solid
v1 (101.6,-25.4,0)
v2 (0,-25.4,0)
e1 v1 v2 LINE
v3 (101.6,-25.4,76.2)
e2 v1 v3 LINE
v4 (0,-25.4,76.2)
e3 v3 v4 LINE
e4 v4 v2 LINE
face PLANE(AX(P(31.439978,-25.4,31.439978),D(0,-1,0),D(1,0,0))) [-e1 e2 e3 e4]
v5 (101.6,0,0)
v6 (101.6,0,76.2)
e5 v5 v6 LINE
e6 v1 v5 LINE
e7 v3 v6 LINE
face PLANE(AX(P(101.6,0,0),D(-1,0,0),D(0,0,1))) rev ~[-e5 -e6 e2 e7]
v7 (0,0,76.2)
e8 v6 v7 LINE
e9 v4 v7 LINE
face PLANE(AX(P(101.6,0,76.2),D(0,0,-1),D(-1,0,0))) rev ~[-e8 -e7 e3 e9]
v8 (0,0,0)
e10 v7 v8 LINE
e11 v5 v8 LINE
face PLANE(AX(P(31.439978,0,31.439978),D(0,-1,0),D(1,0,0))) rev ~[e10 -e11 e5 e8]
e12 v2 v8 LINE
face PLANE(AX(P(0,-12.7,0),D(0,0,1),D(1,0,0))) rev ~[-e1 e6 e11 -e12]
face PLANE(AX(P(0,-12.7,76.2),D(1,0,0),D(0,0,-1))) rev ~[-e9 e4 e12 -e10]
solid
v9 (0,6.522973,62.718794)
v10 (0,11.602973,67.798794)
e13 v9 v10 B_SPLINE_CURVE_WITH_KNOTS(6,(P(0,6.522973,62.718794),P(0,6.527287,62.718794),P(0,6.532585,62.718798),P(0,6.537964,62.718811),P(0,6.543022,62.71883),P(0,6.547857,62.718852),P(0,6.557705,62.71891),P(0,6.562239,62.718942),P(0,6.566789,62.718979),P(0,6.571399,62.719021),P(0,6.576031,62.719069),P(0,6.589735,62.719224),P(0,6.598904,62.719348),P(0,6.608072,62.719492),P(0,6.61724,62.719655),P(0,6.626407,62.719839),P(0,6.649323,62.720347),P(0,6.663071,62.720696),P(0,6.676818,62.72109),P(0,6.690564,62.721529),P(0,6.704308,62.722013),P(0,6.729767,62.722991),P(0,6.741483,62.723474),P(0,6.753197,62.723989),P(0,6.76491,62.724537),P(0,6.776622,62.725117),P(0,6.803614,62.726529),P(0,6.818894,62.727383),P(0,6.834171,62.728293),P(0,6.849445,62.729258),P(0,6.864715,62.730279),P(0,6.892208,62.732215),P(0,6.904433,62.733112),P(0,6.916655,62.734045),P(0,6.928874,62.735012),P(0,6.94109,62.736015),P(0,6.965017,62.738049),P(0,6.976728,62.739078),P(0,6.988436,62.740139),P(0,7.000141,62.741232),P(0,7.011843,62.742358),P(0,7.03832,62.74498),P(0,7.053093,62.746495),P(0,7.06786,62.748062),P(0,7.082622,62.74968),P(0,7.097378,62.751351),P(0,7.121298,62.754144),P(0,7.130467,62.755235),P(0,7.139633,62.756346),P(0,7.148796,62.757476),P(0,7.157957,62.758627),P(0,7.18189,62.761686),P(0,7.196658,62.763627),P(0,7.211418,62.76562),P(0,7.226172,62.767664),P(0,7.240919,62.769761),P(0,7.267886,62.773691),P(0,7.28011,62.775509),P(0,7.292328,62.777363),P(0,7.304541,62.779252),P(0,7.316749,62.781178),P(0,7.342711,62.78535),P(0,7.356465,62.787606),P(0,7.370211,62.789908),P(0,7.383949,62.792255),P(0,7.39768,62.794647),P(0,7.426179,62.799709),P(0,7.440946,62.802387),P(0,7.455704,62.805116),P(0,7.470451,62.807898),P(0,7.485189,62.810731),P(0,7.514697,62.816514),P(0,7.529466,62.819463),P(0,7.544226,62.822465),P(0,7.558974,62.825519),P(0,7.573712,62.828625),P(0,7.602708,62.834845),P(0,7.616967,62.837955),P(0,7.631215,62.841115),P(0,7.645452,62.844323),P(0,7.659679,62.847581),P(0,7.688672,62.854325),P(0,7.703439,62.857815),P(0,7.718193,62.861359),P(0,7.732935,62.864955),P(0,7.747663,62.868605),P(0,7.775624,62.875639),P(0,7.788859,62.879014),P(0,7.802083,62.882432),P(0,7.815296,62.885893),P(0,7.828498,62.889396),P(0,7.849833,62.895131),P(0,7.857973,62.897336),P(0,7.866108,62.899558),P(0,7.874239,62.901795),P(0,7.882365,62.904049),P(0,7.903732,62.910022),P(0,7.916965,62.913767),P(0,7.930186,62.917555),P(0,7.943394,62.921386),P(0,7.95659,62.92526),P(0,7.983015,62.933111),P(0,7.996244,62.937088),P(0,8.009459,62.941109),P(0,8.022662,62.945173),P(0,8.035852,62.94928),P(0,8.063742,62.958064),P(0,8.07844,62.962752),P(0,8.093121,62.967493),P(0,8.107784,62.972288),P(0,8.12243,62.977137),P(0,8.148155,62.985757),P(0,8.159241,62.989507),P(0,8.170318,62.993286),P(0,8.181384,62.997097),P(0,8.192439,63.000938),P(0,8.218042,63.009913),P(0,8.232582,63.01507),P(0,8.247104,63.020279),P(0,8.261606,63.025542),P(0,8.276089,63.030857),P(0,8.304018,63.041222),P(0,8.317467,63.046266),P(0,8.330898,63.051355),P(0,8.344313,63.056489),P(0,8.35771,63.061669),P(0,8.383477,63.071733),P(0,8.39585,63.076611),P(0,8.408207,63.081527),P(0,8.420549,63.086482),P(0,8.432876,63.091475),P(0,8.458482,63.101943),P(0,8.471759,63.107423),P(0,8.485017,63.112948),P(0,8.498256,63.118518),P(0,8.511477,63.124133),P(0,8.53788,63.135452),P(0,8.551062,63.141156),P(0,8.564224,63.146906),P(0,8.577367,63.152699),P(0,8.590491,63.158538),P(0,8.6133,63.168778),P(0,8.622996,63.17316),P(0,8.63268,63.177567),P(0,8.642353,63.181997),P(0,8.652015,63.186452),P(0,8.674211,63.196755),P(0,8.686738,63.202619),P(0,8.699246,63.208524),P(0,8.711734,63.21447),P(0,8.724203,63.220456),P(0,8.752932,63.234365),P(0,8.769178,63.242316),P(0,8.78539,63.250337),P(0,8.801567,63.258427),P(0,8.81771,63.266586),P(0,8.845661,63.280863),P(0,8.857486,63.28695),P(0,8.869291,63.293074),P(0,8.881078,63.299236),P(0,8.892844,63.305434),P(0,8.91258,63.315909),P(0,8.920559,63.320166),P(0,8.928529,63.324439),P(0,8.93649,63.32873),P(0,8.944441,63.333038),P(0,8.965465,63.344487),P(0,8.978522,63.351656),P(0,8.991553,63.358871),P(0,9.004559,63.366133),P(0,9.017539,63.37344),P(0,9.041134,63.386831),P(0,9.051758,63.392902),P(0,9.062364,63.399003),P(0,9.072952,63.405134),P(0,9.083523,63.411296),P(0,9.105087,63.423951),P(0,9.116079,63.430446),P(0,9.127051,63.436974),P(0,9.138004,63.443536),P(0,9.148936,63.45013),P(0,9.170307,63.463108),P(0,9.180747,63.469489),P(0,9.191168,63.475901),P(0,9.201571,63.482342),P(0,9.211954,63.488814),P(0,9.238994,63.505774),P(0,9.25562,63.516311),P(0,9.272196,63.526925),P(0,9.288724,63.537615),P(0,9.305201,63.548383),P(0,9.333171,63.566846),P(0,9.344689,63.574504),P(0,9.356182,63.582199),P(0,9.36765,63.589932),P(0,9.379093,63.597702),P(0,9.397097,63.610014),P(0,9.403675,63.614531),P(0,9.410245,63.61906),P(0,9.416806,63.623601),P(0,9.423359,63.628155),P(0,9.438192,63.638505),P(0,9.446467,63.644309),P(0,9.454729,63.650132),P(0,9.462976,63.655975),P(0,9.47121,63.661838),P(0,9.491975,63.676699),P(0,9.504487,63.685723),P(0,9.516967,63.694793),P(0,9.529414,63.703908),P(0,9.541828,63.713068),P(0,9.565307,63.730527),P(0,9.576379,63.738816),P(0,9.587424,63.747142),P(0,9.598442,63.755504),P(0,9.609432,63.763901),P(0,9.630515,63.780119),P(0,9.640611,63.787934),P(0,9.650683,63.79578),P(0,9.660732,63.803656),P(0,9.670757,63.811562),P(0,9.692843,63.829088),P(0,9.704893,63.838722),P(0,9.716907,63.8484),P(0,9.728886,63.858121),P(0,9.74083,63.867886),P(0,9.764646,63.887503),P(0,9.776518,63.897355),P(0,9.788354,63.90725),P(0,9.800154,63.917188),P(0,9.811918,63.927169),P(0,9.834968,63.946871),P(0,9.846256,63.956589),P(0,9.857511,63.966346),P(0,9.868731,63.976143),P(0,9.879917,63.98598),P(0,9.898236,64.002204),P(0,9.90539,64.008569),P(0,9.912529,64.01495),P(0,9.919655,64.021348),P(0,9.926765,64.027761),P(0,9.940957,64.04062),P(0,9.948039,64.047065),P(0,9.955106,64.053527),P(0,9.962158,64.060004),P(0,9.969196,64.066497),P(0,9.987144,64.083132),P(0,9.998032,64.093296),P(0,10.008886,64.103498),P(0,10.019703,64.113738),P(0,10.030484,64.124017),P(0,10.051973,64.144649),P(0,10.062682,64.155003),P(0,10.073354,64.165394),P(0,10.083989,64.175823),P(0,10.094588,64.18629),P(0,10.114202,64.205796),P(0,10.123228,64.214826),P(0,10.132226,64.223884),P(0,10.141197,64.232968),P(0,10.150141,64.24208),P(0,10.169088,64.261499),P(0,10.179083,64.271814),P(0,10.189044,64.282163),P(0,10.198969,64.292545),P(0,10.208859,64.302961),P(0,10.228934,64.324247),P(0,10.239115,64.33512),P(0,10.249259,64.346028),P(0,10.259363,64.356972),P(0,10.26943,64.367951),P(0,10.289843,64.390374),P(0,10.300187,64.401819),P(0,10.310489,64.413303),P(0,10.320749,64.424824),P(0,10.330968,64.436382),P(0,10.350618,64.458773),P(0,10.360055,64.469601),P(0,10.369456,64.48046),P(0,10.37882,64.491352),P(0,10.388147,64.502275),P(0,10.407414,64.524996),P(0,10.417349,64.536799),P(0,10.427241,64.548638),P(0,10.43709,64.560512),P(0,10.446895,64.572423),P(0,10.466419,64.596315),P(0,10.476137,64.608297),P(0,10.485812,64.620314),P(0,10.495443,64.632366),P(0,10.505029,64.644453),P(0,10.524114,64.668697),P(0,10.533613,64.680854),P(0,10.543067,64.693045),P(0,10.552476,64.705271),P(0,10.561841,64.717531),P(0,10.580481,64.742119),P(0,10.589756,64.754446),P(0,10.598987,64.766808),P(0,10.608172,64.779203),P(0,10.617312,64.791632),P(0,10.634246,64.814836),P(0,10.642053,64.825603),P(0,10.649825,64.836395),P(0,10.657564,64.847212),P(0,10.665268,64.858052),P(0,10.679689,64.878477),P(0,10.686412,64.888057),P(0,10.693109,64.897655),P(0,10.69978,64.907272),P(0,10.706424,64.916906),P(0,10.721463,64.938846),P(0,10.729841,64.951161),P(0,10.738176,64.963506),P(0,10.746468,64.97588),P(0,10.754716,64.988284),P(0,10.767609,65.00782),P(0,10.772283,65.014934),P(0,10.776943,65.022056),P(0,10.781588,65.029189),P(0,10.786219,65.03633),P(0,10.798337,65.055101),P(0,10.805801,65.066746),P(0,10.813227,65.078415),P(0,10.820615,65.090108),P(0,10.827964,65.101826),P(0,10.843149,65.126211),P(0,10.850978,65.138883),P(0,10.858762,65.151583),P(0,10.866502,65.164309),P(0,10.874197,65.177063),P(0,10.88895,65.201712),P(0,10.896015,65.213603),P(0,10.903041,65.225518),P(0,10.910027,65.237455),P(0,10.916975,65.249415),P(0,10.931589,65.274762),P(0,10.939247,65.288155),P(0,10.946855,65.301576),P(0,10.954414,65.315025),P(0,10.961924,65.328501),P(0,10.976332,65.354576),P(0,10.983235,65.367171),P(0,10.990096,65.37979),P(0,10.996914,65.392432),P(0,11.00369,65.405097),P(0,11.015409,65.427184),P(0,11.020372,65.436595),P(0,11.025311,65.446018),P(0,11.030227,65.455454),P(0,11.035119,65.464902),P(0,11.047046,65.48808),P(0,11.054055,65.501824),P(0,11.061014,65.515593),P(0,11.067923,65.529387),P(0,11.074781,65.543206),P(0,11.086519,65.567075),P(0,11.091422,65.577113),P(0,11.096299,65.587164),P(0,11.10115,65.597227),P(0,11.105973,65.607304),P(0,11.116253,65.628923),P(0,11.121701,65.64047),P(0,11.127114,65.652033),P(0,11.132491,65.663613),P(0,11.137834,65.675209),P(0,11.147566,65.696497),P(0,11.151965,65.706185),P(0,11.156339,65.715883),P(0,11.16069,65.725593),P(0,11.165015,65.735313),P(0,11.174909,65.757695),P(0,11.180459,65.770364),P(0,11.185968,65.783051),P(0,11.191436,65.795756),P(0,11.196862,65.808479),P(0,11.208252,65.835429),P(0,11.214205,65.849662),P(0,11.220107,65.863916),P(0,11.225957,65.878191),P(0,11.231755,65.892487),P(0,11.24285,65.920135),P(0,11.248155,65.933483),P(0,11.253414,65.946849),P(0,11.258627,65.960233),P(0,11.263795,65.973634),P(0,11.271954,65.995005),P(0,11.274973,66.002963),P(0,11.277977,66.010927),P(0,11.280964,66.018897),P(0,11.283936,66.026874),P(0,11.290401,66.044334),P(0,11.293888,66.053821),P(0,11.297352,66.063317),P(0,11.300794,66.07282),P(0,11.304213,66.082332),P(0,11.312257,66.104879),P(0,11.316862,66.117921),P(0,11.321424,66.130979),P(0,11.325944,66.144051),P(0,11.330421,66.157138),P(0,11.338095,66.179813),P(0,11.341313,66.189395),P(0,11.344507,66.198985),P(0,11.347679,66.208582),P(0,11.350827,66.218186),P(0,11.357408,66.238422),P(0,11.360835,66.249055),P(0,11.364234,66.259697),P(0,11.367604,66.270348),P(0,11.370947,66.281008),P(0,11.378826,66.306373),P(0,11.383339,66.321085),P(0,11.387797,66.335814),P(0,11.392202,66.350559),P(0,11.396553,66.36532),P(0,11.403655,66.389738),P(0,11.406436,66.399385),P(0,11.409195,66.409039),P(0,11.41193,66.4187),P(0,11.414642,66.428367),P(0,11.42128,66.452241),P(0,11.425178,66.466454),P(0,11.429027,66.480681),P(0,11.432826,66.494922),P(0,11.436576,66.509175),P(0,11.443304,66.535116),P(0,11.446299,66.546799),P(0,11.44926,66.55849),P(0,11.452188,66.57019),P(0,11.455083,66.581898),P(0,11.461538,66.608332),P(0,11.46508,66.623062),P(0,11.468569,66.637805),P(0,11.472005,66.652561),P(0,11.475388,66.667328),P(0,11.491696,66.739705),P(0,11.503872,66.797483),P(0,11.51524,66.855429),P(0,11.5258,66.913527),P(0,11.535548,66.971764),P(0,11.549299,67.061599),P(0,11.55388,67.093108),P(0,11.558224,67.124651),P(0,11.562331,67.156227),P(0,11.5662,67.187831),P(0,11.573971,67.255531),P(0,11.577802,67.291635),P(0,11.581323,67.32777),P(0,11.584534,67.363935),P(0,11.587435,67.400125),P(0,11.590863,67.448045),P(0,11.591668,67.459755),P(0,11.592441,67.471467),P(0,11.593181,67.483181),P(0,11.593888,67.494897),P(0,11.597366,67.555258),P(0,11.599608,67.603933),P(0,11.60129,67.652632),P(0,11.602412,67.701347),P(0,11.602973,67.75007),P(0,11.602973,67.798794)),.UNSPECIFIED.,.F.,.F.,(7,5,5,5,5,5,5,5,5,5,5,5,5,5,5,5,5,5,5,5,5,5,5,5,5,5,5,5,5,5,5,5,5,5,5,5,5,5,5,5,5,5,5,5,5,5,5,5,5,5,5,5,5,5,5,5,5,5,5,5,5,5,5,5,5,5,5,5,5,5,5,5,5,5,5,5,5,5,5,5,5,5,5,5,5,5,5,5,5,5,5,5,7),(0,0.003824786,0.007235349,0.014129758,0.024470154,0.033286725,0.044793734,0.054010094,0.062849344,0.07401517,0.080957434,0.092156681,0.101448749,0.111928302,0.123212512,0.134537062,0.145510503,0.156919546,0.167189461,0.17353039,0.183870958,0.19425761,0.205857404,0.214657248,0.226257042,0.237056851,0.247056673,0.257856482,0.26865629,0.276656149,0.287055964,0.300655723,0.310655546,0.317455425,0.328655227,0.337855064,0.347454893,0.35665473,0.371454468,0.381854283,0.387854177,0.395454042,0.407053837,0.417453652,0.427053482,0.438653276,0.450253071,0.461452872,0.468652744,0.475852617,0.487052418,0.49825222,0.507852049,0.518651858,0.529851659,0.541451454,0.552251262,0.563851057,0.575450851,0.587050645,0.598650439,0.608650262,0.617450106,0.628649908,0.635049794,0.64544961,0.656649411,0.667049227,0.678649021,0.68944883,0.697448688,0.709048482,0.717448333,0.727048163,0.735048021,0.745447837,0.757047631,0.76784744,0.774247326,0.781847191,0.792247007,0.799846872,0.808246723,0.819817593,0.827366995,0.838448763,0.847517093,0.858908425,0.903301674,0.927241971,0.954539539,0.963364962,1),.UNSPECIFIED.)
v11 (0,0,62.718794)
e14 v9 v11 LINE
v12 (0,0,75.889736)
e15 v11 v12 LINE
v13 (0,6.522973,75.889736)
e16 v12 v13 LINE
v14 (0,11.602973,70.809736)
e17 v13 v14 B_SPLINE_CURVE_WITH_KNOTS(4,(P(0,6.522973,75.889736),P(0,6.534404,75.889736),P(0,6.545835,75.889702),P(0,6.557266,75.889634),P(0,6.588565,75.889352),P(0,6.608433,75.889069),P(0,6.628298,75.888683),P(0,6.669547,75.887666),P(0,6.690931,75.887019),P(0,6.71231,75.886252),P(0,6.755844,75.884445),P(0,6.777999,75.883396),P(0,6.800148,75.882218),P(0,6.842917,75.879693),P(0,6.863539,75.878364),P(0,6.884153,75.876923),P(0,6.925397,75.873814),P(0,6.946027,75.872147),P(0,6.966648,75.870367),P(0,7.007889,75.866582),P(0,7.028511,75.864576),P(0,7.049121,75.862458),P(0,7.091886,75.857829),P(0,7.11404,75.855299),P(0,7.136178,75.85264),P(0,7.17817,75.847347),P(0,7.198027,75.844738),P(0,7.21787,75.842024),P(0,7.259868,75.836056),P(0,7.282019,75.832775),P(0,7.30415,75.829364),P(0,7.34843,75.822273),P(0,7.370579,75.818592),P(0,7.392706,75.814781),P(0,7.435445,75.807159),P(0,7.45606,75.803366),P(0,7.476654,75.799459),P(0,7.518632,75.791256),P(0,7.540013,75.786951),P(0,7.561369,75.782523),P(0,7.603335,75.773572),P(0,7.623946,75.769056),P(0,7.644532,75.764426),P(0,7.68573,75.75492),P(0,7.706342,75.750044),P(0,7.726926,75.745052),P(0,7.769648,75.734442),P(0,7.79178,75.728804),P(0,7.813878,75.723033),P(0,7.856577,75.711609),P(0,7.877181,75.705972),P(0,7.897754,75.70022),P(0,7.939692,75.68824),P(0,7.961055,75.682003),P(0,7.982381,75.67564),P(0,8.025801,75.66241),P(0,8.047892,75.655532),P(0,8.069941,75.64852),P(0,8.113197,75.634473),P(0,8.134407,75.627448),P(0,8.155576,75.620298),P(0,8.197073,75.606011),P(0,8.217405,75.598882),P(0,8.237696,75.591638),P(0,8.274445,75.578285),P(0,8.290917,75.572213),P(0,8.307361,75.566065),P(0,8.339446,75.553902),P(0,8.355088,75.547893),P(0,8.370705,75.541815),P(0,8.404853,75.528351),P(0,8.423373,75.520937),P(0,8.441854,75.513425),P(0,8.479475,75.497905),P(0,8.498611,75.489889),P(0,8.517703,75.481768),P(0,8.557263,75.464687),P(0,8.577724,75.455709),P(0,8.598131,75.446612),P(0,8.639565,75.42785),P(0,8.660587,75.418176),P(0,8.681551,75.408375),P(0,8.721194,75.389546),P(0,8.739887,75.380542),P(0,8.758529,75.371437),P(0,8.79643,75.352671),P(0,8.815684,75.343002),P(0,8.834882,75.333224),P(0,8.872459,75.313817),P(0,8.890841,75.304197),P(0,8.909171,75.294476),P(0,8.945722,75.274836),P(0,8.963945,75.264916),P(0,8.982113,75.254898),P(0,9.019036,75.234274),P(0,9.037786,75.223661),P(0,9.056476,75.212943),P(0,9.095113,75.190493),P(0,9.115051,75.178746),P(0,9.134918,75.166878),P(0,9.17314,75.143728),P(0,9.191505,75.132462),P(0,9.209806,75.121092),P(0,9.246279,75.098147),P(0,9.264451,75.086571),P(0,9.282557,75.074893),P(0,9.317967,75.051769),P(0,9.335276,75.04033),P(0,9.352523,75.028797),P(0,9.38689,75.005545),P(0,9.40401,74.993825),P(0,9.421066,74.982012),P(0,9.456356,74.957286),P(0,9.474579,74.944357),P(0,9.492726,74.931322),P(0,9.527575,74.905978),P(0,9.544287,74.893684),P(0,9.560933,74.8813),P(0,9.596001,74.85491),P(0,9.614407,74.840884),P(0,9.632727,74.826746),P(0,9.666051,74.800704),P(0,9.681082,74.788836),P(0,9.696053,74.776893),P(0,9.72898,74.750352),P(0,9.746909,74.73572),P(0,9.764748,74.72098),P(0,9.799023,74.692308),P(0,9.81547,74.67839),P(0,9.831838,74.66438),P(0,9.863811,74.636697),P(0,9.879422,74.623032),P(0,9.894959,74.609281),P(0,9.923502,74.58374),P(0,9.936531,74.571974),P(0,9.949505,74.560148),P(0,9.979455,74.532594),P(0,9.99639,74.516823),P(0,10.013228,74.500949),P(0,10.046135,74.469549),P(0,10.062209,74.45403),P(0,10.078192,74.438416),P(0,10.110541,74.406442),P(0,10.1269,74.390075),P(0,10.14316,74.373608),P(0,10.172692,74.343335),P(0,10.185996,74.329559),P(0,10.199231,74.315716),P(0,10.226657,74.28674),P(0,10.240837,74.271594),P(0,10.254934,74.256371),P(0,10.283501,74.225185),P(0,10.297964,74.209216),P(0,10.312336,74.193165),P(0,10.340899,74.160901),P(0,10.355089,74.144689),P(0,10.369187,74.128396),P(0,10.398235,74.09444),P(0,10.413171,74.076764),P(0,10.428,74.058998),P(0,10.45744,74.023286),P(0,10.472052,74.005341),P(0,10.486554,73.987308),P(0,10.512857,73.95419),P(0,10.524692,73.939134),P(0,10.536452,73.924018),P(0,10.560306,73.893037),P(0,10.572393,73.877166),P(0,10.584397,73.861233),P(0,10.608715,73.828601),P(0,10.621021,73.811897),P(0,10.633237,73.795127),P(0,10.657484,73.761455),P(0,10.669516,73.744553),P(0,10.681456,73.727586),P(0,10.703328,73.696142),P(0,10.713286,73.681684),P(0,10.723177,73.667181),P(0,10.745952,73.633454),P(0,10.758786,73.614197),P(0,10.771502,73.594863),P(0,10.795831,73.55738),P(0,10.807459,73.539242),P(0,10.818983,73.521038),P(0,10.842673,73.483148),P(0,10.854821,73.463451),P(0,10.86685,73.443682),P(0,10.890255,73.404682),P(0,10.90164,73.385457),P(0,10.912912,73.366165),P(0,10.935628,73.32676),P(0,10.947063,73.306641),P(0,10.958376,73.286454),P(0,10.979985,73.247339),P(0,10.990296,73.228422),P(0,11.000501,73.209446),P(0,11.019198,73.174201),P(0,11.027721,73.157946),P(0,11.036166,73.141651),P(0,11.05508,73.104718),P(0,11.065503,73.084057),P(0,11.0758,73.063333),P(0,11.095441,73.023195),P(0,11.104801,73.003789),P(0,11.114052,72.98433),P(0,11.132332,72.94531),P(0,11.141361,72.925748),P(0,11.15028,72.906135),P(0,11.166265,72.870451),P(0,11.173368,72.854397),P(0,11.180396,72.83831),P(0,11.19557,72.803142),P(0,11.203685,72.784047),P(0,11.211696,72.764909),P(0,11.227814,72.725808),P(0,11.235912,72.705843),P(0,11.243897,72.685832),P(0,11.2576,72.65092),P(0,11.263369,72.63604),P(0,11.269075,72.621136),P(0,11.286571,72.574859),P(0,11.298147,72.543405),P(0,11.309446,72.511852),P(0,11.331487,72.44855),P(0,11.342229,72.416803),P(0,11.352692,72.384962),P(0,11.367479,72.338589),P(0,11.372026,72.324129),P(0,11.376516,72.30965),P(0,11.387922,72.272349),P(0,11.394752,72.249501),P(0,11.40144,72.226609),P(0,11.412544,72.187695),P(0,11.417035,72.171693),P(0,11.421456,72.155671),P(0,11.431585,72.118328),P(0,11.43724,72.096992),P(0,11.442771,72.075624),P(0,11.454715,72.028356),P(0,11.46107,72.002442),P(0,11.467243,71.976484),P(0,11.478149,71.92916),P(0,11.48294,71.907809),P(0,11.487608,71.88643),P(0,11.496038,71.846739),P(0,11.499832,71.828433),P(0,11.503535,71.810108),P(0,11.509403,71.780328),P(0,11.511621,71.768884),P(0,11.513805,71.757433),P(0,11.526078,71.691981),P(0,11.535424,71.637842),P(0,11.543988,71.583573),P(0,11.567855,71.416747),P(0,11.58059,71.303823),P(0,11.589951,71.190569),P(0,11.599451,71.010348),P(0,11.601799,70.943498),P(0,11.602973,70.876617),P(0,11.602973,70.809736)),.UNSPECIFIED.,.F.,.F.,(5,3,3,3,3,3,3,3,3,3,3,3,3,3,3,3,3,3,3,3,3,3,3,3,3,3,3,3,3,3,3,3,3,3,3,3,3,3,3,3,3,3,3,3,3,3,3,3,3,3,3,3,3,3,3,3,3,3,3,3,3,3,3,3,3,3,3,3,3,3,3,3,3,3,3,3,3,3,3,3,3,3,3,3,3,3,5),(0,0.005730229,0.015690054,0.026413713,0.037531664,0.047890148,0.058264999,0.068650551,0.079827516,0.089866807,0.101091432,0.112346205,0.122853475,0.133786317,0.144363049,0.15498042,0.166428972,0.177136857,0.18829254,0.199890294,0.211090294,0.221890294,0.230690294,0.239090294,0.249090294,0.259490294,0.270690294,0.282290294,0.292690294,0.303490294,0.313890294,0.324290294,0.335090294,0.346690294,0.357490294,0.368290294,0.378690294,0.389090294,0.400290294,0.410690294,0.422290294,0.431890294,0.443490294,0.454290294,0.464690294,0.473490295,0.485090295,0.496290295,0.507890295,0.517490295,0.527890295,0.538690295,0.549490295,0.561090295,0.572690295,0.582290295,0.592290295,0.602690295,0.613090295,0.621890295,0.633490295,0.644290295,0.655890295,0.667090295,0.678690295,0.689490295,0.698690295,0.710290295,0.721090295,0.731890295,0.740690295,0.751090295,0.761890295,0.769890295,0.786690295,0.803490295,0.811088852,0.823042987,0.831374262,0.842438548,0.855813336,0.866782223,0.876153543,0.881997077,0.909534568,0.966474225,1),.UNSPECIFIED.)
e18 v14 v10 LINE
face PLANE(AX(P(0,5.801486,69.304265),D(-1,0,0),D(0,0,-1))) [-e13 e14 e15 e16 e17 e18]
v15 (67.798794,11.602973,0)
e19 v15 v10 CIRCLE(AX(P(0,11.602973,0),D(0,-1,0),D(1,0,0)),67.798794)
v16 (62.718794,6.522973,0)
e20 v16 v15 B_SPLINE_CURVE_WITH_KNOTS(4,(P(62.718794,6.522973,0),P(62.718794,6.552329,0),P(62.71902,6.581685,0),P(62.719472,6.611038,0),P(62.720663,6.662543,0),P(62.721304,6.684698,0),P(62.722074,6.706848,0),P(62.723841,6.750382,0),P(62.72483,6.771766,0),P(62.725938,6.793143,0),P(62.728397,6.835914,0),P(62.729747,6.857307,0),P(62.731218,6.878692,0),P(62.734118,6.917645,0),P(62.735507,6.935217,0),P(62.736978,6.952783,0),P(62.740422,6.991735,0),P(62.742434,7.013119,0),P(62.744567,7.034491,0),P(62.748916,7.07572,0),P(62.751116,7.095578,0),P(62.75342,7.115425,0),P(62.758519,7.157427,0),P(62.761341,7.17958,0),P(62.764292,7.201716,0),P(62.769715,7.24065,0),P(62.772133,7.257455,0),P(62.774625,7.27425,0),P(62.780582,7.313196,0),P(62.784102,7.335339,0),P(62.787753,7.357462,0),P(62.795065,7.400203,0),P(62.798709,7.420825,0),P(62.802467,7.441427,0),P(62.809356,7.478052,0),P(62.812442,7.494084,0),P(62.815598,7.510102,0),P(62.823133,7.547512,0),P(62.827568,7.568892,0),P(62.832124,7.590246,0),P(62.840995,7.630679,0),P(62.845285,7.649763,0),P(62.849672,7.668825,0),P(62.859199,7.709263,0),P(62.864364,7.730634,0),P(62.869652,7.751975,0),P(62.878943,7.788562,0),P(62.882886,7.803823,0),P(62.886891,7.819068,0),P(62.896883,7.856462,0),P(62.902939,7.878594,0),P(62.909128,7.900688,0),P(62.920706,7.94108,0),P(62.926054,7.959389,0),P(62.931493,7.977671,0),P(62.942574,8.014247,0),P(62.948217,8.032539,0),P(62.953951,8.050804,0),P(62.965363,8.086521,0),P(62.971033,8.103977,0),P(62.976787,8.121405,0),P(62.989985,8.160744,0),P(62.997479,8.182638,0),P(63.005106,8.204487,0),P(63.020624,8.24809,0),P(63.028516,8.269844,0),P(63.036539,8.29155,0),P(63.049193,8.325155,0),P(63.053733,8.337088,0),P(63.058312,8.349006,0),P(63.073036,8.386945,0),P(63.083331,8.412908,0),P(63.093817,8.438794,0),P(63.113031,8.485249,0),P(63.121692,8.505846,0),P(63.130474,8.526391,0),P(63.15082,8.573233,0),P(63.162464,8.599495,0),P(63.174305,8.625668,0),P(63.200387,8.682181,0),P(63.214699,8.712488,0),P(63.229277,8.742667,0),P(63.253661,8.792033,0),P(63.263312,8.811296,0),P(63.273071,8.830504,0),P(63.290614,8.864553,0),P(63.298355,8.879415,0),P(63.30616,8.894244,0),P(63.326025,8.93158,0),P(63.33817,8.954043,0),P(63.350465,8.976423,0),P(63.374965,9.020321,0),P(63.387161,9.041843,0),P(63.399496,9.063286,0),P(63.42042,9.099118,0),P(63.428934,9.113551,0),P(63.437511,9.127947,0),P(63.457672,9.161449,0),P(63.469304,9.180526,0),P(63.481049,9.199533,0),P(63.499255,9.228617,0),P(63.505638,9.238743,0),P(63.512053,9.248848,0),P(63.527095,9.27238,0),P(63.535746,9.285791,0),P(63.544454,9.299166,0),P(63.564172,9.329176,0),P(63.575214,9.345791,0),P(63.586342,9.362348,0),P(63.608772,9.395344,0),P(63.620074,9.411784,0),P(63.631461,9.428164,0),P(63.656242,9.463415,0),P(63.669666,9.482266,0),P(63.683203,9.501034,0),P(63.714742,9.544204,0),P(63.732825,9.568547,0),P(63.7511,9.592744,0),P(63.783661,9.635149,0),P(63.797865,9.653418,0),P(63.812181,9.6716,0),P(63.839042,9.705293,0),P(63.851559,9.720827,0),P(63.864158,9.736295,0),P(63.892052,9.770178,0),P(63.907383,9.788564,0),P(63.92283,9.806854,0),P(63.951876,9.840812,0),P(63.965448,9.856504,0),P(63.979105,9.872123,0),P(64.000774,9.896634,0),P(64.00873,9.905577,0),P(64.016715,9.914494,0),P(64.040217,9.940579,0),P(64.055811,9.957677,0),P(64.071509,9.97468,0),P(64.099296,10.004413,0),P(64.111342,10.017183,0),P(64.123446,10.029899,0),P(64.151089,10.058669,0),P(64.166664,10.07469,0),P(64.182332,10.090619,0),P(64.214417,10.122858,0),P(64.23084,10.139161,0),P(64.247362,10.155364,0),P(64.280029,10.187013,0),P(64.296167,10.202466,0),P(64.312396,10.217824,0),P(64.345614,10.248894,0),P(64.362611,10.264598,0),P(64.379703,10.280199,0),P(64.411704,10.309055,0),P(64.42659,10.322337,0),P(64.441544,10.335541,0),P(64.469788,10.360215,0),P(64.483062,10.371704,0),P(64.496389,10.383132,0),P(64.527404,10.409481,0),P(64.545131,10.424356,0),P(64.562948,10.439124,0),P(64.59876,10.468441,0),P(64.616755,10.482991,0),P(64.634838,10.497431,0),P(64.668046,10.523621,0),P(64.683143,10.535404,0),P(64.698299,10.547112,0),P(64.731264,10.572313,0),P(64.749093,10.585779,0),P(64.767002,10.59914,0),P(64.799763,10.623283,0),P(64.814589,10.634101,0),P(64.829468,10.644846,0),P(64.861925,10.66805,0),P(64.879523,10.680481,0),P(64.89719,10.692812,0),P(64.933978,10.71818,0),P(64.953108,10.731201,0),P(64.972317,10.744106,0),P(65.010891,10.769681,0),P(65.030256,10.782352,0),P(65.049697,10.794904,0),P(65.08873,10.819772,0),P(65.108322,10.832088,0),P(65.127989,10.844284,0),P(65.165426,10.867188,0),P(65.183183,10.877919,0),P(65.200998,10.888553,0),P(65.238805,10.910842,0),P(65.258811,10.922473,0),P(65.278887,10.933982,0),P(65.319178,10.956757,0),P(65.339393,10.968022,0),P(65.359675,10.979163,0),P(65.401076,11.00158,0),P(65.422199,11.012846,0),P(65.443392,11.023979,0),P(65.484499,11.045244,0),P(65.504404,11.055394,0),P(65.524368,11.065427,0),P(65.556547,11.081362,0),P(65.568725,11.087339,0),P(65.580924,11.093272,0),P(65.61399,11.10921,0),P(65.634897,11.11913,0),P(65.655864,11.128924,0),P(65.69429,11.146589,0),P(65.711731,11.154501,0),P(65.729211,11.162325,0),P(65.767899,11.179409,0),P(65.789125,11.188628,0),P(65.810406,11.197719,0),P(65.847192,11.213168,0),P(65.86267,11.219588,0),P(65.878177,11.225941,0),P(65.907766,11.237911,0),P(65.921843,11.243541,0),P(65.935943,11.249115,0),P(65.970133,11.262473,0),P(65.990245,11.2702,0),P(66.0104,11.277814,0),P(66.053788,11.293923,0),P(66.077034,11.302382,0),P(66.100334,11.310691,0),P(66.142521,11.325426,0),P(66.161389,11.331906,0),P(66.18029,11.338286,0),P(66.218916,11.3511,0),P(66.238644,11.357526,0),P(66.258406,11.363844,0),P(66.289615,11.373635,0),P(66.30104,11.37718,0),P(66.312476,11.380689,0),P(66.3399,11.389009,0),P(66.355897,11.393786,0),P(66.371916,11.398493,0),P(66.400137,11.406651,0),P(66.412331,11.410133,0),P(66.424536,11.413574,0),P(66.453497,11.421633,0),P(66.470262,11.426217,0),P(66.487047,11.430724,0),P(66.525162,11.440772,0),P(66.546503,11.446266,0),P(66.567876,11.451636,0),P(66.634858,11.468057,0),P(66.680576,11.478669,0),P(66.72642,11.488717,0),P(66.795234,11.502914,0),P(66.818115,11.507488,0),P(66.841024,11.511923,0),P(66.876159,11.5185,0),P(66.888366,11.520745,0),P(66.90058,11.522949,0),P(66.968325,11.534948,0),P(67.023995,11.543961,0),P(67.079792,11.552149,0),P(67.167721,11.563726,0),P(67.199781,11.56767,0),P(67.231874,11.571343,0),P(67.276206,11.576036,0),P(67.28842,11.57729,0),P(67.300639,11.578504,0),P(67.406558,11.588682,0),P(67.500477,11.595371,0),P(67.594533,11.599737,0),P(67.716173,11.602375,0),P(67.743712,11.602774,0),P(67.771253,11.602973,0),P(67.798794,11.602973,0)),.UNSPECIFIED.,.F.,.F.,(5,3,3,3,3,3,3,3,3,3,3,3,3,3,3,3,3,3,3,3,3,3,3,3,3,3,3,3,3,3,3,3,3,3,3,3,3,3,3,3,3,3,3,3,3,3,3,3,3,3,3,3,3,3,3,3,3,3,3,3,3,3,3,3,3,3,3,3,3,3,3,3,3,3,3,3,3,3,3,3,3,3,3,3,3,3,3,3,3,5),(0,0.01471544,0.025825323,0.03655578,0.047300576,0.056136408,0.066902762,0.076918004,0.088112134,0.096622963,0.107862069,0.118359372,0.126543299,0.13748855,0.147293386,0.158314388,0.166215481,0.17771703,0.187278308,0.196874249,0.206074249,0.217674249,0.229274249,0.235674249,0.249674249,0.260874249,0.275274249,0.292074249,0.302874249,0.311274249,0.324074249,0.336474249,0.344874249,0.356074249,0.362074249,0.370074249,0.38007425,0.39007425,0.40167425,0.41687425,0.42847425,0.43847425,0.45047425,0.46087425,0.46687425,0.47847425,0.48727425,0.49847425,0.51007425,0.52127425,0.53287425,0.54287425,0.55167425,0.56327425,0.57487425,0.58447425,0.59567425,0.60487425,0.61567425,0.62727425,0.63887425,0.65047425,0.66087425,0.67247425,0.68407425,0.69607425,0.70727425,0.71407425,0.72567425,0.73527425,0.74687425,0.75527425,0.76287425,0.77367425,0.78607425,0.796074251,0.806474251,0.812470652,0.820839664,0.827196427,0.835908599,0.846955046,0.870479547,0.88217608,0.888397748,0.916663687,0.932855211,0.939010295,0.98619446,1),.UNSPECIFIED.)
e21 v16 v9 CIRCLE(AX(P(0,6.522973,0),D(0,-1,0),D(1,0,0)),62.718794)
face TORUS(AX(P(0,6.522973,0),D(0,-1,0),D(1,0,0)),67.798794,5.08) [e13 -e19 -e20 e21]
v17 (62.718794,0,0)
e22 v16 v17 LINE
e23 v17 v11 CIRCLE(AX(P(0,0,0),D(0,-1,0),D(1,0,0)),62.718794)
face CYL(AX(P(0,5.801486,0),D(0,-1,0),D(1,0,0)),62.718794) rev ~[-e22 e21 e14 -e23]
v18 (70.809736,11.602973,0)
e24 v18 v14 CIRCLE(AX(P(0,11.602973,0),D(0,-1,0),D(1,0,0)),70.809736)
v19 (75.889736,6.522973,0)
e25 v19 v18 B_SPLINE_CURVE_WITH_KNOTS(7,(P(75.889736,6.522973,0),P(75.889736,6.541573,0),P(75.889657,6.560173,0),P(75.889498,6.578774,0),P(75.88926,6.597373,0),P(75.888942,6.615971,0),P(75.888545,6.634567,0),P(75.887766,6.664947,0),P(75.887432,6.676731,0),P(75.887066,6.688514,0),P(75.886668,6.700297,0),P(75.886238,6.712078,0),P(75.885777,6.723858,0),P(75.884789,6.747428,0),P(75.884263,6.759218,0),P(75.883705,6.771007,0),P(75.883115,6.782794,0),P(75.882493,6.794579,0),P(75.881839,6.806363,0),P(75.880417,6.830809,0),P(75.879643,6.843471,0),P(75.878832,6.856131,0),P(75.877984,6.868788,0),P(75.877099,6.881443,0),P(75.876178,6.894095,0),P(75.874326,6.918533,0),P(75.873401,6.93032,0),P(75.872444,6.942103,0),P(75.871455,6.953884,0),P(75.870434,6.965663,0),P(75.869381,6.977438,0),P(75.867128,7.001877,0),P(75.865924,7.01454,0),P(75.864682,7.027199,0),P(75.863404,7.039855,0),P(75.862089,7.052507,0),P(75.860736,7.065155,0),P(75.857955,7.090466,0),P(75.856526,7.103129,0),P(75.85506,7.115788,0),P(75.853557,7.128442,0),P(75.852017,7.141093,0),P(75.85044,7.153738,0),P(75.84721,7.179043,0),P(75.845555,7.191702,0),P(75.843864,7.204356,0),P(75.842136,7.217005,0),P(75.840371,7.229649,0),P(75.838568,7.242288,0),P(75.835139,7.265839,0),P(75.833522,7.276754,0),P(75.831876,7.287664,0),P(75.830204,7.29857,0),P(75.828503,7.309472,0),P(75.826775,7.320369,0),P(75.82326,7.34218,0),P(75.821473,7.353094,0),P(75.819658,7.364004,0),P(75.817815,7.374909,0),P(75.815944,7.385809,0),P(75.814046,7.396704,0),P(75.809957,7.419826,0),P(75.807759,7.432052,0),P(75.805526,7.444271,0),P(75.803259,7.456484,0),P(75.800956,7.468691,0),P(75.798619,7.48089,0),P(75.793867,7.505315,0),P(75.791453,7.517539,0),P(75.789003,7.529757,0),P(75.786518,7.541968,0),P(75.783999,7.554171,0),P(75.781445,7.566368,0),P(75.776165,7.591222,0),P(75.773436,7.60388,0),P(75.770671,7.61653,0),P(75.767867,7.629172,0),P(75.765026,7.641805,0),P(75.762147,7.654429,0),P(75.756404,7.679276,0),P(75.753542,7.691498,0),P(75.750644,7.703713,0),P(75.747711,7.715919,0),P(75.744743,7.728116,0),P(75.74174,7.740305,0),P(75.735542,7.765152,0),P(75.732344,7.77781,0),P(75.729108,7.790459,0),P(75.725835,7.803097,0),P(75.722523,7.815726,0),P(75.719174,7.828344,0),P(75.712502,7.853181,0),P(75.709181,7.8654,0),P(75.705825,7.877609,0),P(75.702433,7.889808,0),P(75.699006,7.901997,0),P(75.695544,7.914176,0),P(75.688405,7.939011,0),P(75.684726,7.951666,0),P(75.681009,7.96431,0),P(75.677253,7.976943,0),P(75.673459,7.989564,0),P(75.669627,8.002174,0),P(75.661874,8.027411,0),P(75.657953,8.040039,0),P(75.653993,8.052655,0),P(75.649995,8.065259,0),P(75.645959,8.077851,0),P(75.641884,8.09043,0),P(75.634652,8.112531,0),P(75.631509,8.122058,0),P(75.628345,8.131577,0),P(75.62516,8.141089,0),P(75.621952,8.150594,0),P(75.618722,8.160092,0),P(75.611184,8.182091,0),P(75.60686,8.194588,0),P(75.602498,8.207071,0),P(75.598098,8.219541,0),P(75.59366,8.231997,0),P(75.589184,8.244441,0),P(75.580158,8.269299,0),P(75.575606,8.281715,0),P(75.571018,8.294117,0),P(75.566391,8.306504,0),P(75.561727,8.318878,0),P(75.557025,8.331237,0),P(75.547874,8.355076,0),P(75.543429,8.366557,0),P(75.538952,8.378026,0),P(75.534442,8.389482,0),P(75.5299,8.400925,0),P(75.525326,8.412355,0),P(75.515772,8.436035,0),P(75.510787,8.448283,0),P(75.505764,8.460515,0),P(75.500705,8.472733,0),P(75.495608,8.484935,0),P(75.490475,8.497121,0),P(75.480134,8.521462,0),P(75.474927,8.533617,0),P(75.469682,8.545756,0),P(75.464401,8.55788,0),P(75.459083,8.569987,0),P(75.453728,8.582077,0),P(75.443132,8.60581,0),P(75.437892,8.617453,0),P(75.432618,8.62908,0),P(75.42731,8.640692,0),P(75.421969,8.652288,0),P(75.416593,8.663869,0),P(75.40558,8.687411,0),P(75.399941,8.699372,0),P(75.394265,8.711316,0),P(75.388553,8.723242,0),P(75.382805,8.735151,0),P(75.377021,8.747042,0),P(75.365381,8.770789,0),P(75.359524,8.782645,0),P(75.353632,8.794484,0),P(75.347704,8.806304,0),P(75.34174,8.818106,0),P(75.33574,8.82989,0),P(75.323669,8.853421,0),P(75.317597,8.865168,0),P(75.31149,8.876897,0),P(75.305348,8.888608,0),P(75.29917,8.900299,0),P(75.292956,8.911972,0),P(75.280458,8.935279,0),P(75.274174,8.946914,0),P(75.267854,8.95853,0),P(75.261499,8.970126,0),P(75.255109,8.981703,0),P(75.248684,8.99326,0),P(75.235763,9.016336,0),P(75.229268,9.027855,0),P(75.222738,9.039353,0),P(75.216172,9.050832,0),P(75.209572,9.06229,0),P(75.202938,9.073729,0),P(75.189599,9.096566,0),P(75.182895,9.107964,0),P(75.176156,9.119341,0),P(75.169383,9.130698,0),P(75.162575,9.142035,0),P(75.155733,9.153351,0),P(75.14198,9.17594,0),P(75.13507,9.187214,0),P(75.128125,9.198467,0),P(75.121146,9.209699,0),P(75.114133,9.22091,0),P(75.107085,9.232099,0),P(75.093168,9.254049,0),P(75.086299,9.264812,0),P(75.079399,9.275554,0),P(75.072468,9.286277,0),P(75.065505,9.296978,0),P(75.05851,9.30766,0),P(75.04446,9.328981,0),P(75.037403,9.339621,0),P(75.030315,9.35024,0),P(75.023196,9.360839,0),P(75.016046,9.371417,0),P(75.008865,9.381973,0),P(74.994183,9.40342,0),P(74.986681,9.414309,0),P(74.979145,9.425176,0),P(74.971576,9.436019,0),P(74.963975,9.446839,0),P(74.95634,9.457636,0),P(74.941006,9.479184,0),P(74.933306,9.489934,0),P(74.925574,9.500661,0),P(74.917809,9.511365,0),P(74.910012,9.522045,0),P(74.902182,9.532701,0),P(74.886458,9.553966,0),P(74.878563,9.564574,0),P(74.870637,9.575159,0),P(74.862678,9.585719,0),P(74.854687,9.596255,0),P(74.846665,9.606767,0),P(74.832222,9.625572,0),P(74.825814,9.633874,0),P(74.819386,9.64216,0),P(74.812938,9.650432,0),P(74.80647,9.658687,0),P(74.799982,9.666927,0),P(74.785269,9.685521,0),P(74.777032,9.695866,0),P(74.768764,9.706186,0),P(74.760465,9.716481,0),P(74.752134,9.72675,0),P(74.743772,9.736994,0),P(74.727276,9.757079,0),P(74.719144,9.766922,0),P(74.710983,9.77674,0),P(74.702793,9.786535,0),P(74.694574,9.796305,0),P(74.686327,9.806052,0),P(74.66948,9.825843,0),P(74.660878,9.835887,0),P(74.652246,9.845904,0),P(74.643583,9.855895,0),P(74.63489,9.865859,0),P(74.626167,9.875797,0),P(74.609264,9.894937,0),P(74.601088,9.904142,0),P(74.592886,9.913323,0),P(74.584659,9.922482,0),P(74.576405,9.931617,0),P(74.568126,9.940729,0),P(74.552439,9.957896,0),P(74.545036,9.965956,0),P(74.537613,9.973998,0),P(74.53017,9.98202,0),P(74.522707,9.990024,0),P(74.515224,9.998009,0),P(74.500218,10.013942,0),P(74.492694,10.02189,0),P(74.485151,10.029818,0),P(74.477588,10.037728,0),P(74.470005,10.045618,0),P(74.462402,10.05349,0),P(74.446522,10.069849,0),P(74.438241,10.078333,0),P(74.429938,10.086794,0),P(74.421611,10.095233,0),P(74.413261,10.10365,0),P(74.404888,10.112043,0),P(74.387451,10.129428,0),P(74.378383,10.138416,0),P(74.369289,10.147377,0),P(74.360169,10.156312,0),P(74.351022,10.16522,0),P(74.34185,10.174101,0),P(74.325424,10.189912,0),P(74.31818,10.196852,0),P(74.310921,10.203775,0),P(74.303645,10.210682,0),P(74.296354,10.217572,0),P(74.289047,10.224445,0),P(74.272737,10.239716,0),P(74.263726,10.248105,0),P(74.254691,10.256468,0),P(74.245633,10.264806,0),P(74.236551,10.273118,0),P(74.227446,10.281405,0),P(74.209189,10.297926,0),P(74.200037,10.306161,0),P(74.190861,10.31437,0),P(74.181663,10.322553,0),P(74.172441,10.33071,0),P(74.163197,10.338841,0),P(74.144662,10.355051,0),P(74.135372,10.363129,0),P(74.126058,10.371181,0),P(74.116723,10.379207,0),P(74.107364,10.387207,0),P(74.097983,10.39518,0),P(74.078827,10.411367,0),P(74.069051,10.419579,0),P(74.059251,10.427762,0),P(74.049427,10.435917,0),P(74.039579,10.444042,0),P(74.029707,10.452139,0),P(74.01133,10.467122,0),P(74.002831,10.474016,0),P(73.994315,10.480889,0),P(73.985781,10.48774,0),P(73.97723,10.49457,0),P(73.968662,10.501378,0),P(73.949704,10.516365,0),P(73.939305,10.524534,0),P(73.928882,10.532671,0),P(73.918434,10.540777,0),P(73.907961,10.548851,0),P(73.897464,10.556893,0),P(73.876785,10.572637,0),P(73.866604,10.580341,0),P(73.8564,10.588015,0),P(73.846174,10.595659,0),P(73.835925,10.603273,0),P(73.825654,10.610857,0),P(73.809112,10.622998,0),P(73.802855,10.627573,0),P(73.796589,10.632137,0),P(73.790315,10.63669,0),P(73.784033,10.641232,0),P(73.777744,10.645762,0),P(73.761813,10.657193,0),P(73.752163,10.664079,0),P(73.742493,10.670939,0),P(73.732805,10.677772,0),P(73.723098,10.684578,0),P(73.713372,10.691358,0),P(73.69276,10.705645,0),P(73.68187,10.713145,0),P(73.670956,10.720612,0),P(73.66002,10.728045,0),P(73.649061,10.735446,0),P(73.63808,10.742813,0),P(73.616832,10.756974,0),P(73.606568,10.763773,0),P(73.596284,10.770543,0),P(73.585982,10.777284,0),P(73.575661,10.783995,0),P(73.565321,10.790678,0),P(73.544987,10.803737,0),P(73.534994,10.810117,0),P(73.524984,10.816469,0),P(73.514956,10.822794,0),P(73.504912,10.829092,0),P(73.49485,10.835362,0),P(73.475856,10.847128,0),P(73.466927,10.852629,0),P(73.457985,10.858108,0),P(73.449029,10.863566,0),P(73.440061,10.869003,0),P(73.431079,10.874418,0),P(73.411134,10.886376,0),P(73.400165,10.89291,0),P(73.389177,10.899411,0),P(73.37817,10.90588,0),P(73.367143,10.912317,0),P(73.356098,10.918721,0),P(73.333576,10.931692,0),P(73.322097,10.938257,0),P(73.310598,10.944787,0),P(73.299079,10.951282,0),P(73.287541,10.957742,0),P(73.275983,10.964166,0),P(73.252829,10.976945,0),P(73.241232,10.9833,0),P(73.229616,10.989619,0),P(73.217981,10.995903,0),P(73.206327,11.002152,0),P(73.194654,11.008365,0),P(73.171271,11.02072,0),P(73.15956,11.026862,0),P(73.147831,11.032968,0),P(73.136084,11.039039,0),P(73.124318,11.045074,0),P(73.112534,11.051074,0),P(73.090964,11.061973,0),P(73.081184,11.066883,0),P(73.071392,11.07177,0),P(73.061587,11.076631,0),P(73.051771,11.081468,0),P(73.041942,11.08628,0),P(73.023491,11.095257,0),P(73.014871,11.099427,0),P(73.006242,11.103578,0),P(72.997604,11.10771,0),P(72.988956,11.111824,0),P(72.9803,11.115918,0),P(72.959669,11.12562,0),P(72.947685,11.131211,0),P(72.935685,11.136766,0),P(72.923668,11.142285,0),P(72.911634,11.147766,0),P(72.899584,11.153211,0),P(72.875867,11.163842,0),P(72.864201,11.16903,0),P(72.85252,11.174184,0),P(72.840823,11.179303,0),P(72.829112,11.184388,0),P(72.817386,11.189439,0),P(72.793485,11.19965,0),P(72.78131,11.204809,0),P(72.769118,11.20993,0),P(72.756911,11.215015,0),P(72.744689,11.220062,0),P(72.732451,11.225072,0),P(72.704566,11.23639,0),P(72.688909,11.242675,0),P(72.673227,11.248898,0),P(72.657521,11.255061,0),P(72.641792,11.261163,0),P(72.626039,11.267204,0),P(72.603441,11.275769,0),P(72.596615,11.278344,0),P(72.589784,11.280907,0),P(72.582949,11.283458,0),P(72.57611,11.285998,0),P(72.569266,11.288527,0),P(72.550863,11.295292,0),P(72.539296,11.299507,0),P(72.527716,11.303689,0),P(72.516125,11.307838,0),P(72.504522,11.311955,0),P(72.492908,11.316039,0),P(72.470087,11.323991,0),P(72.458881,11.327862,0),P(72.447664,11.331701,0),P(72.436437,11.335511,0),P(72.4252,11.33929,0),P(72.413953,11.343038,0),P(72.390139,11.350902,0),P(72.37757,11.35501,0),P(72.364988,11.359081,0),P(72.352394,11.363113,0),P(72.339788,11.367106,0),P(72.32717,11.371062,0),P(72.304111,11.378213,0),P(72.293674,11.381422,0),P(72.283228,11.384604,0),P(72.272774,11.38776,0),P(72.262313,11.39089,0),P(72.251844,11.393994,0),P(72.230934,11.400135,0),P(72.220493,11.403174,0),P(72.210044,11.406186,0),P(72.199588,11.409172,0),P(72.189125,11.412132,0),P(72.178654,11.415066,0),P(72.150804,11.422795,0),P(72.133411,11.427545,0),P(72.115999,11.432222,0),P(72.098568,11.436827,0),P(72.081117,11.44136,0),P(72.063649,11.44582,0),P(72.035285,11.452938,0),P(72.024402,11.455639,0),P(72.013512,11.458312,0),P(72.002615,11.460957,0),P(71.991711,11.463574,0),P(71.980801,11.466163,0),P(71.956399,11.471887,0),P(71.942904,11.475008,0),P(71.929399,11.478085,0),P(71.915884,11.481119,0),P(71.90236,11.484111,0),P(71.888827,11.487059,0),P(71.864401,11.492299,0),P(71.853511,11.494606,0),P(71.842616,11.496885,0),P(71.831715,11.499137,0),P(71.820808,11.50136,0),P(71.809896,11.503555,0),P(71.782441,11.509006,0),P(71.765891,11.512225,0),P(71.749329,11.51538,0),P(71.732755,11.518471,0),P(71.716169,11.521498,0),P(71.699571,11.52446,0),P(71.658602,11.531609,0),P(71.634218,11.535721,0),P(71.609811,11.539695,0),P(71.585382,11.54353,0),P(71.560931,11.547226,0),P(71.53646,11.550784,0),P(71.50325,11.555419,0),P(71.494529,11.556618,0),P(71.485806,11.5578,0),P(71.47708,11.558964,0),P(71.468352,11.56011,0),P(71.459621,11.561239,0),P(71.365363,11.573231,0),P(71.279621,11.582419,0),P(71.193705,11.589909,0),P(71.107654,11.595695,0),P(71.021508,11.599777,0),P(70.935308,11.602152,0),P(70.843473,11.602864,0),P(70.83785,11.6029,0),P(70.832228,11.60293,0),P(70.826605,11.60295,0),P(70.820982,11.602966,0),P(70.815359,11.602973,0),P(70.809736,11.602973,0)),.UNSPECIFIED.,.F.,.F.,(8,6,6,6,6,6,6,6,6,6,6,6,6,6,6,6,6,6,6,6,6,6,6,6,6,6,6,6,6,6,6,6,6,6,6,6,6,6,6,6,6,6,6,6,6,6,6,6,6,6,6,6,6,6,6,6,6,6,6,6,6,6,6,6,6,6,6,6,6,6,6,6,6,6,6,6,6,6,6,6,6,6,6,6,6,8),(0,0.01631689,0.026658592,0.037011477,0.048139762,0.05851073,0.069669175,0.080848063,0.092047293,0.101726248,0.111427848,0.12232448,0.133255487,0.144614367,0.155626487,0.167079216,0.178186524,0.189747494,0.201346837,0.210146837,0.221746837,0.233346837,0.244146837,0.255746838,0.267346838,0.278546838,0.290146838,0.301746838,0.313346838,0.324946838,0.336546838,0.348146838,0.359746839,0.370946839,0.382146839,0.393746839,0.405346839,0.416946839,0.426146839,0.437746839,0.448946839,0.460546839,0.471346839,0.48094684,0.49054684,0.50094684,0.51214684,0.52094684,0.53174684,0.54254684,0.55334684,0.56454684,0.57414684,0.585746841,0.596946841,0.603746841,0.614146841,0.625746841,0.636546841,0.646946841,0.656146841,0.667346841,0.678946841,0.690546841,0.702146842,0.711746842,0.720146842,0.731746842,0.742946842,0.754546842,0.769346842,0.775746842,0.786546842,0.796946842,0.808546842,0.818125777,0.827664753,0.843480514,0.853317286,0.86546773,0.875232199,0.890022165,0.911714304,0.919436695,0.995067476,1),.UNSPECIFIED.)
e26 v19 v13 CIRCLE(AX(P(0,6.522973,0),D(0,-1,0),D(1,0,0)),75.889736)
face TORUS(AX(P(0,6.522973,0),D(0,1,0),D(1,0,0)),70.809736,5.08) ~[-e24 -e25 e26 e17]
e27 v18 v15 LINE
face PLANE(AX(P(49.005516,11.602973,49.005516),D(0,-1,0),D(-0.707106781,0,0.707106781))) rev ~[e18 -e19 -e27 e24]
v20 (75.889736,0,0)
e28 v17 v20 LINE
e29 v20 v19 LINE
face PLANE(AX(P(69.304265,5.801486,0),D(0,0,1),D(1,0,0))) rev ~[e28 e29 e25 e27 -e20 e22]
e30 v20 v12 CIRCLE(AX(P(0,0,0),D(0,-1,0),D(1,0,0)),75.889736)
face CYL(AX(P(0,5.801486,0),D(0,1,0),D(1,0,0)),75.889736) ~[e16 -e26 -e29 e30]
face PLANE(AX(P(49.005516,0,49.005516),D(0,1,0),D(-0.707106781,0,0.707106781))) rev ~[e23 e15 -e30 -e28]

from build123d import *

# Parameters (mm, degrees)
F1_DEPTH = 12.7
F2_W     = 13.1709426641
F2_H     = 11.6029726341
F4_DEPTH = 25.4
F5_DEPTH = 12.7
F6_R     = 5.08


with BuildPart() as f1:
    # F0 (on Front) → F1 (new body)
    with BuildSketch(Plane.XZ):
        with BuildLine():
            Line((0, 76.2), (0, 0))
            Line((0, 0), (76.2, 0))
            ThreePointArc((76.2, 0), (53.8815367264, 53.8815367264), (0, 76.2))
        make_face()
        with BuildLine():
            ThreePointArc((0, 76.2), (53.8815367264, 53.8815367264), (76.2, 0))
            Line((76.2, 0), (101.6, 0))
            Line((101.6, 0), (101.6, 76.2))
            Line((101.6, 76.2), (0, 76.2))
        make_face()
    extrude(amount=F1_DEPTH)

    # F0 (on Front) → F4 (join)
    with BuildSketch(Plane.XZ):
        with BuildLine():
            ThreePointArc((0, 76.2), (53.8815367264, 53.8815367264), (76.2, 0))
            Line((76.2, 0), (101.6, 0))
            Line((101.6, 0), (101.6, 76.2))
            Line((101.6, 76.2), (0, 76.2))
        make_face()
    extrude(amount=F4_DEPTH)

    # F5 (add): a face of the model
    f5_faces = [f1.faces().sort_by_distance(p)[0] for p in [
        (32.3402844363, -12.7, 32.3402844363),
    ]]
    extrude(f5_faces, amount=F5_DEPTH)


with BuildPart() as f3:
    # F3: sweep along a path in F0
    with BuildLine(Plane.XZ) as f3_path:
        ThreePointArc((76.2, 0), (53.8815367264, 53.8815367264), (0, 76.2))
    # F2 (on Top) → F3 (sweep)
    with BuildSketch(Plane.XY):
        with Locations((69.3042650819, 5.8014863171)):
            Rectangle(F2_W, F2_H)
    sweep(path=f3_path.line)

    # F6
    f6_edges = [f3.edges().sort_by_distance(p)[0] for p in [
        (53.662147, 11.602973, 53.662147),
        (44.348884, 11.602973, 44.348884),
    ]]
    fillet(f6_edges, radius=F6_R)


solid = Compound([f1.part, f3.part])
